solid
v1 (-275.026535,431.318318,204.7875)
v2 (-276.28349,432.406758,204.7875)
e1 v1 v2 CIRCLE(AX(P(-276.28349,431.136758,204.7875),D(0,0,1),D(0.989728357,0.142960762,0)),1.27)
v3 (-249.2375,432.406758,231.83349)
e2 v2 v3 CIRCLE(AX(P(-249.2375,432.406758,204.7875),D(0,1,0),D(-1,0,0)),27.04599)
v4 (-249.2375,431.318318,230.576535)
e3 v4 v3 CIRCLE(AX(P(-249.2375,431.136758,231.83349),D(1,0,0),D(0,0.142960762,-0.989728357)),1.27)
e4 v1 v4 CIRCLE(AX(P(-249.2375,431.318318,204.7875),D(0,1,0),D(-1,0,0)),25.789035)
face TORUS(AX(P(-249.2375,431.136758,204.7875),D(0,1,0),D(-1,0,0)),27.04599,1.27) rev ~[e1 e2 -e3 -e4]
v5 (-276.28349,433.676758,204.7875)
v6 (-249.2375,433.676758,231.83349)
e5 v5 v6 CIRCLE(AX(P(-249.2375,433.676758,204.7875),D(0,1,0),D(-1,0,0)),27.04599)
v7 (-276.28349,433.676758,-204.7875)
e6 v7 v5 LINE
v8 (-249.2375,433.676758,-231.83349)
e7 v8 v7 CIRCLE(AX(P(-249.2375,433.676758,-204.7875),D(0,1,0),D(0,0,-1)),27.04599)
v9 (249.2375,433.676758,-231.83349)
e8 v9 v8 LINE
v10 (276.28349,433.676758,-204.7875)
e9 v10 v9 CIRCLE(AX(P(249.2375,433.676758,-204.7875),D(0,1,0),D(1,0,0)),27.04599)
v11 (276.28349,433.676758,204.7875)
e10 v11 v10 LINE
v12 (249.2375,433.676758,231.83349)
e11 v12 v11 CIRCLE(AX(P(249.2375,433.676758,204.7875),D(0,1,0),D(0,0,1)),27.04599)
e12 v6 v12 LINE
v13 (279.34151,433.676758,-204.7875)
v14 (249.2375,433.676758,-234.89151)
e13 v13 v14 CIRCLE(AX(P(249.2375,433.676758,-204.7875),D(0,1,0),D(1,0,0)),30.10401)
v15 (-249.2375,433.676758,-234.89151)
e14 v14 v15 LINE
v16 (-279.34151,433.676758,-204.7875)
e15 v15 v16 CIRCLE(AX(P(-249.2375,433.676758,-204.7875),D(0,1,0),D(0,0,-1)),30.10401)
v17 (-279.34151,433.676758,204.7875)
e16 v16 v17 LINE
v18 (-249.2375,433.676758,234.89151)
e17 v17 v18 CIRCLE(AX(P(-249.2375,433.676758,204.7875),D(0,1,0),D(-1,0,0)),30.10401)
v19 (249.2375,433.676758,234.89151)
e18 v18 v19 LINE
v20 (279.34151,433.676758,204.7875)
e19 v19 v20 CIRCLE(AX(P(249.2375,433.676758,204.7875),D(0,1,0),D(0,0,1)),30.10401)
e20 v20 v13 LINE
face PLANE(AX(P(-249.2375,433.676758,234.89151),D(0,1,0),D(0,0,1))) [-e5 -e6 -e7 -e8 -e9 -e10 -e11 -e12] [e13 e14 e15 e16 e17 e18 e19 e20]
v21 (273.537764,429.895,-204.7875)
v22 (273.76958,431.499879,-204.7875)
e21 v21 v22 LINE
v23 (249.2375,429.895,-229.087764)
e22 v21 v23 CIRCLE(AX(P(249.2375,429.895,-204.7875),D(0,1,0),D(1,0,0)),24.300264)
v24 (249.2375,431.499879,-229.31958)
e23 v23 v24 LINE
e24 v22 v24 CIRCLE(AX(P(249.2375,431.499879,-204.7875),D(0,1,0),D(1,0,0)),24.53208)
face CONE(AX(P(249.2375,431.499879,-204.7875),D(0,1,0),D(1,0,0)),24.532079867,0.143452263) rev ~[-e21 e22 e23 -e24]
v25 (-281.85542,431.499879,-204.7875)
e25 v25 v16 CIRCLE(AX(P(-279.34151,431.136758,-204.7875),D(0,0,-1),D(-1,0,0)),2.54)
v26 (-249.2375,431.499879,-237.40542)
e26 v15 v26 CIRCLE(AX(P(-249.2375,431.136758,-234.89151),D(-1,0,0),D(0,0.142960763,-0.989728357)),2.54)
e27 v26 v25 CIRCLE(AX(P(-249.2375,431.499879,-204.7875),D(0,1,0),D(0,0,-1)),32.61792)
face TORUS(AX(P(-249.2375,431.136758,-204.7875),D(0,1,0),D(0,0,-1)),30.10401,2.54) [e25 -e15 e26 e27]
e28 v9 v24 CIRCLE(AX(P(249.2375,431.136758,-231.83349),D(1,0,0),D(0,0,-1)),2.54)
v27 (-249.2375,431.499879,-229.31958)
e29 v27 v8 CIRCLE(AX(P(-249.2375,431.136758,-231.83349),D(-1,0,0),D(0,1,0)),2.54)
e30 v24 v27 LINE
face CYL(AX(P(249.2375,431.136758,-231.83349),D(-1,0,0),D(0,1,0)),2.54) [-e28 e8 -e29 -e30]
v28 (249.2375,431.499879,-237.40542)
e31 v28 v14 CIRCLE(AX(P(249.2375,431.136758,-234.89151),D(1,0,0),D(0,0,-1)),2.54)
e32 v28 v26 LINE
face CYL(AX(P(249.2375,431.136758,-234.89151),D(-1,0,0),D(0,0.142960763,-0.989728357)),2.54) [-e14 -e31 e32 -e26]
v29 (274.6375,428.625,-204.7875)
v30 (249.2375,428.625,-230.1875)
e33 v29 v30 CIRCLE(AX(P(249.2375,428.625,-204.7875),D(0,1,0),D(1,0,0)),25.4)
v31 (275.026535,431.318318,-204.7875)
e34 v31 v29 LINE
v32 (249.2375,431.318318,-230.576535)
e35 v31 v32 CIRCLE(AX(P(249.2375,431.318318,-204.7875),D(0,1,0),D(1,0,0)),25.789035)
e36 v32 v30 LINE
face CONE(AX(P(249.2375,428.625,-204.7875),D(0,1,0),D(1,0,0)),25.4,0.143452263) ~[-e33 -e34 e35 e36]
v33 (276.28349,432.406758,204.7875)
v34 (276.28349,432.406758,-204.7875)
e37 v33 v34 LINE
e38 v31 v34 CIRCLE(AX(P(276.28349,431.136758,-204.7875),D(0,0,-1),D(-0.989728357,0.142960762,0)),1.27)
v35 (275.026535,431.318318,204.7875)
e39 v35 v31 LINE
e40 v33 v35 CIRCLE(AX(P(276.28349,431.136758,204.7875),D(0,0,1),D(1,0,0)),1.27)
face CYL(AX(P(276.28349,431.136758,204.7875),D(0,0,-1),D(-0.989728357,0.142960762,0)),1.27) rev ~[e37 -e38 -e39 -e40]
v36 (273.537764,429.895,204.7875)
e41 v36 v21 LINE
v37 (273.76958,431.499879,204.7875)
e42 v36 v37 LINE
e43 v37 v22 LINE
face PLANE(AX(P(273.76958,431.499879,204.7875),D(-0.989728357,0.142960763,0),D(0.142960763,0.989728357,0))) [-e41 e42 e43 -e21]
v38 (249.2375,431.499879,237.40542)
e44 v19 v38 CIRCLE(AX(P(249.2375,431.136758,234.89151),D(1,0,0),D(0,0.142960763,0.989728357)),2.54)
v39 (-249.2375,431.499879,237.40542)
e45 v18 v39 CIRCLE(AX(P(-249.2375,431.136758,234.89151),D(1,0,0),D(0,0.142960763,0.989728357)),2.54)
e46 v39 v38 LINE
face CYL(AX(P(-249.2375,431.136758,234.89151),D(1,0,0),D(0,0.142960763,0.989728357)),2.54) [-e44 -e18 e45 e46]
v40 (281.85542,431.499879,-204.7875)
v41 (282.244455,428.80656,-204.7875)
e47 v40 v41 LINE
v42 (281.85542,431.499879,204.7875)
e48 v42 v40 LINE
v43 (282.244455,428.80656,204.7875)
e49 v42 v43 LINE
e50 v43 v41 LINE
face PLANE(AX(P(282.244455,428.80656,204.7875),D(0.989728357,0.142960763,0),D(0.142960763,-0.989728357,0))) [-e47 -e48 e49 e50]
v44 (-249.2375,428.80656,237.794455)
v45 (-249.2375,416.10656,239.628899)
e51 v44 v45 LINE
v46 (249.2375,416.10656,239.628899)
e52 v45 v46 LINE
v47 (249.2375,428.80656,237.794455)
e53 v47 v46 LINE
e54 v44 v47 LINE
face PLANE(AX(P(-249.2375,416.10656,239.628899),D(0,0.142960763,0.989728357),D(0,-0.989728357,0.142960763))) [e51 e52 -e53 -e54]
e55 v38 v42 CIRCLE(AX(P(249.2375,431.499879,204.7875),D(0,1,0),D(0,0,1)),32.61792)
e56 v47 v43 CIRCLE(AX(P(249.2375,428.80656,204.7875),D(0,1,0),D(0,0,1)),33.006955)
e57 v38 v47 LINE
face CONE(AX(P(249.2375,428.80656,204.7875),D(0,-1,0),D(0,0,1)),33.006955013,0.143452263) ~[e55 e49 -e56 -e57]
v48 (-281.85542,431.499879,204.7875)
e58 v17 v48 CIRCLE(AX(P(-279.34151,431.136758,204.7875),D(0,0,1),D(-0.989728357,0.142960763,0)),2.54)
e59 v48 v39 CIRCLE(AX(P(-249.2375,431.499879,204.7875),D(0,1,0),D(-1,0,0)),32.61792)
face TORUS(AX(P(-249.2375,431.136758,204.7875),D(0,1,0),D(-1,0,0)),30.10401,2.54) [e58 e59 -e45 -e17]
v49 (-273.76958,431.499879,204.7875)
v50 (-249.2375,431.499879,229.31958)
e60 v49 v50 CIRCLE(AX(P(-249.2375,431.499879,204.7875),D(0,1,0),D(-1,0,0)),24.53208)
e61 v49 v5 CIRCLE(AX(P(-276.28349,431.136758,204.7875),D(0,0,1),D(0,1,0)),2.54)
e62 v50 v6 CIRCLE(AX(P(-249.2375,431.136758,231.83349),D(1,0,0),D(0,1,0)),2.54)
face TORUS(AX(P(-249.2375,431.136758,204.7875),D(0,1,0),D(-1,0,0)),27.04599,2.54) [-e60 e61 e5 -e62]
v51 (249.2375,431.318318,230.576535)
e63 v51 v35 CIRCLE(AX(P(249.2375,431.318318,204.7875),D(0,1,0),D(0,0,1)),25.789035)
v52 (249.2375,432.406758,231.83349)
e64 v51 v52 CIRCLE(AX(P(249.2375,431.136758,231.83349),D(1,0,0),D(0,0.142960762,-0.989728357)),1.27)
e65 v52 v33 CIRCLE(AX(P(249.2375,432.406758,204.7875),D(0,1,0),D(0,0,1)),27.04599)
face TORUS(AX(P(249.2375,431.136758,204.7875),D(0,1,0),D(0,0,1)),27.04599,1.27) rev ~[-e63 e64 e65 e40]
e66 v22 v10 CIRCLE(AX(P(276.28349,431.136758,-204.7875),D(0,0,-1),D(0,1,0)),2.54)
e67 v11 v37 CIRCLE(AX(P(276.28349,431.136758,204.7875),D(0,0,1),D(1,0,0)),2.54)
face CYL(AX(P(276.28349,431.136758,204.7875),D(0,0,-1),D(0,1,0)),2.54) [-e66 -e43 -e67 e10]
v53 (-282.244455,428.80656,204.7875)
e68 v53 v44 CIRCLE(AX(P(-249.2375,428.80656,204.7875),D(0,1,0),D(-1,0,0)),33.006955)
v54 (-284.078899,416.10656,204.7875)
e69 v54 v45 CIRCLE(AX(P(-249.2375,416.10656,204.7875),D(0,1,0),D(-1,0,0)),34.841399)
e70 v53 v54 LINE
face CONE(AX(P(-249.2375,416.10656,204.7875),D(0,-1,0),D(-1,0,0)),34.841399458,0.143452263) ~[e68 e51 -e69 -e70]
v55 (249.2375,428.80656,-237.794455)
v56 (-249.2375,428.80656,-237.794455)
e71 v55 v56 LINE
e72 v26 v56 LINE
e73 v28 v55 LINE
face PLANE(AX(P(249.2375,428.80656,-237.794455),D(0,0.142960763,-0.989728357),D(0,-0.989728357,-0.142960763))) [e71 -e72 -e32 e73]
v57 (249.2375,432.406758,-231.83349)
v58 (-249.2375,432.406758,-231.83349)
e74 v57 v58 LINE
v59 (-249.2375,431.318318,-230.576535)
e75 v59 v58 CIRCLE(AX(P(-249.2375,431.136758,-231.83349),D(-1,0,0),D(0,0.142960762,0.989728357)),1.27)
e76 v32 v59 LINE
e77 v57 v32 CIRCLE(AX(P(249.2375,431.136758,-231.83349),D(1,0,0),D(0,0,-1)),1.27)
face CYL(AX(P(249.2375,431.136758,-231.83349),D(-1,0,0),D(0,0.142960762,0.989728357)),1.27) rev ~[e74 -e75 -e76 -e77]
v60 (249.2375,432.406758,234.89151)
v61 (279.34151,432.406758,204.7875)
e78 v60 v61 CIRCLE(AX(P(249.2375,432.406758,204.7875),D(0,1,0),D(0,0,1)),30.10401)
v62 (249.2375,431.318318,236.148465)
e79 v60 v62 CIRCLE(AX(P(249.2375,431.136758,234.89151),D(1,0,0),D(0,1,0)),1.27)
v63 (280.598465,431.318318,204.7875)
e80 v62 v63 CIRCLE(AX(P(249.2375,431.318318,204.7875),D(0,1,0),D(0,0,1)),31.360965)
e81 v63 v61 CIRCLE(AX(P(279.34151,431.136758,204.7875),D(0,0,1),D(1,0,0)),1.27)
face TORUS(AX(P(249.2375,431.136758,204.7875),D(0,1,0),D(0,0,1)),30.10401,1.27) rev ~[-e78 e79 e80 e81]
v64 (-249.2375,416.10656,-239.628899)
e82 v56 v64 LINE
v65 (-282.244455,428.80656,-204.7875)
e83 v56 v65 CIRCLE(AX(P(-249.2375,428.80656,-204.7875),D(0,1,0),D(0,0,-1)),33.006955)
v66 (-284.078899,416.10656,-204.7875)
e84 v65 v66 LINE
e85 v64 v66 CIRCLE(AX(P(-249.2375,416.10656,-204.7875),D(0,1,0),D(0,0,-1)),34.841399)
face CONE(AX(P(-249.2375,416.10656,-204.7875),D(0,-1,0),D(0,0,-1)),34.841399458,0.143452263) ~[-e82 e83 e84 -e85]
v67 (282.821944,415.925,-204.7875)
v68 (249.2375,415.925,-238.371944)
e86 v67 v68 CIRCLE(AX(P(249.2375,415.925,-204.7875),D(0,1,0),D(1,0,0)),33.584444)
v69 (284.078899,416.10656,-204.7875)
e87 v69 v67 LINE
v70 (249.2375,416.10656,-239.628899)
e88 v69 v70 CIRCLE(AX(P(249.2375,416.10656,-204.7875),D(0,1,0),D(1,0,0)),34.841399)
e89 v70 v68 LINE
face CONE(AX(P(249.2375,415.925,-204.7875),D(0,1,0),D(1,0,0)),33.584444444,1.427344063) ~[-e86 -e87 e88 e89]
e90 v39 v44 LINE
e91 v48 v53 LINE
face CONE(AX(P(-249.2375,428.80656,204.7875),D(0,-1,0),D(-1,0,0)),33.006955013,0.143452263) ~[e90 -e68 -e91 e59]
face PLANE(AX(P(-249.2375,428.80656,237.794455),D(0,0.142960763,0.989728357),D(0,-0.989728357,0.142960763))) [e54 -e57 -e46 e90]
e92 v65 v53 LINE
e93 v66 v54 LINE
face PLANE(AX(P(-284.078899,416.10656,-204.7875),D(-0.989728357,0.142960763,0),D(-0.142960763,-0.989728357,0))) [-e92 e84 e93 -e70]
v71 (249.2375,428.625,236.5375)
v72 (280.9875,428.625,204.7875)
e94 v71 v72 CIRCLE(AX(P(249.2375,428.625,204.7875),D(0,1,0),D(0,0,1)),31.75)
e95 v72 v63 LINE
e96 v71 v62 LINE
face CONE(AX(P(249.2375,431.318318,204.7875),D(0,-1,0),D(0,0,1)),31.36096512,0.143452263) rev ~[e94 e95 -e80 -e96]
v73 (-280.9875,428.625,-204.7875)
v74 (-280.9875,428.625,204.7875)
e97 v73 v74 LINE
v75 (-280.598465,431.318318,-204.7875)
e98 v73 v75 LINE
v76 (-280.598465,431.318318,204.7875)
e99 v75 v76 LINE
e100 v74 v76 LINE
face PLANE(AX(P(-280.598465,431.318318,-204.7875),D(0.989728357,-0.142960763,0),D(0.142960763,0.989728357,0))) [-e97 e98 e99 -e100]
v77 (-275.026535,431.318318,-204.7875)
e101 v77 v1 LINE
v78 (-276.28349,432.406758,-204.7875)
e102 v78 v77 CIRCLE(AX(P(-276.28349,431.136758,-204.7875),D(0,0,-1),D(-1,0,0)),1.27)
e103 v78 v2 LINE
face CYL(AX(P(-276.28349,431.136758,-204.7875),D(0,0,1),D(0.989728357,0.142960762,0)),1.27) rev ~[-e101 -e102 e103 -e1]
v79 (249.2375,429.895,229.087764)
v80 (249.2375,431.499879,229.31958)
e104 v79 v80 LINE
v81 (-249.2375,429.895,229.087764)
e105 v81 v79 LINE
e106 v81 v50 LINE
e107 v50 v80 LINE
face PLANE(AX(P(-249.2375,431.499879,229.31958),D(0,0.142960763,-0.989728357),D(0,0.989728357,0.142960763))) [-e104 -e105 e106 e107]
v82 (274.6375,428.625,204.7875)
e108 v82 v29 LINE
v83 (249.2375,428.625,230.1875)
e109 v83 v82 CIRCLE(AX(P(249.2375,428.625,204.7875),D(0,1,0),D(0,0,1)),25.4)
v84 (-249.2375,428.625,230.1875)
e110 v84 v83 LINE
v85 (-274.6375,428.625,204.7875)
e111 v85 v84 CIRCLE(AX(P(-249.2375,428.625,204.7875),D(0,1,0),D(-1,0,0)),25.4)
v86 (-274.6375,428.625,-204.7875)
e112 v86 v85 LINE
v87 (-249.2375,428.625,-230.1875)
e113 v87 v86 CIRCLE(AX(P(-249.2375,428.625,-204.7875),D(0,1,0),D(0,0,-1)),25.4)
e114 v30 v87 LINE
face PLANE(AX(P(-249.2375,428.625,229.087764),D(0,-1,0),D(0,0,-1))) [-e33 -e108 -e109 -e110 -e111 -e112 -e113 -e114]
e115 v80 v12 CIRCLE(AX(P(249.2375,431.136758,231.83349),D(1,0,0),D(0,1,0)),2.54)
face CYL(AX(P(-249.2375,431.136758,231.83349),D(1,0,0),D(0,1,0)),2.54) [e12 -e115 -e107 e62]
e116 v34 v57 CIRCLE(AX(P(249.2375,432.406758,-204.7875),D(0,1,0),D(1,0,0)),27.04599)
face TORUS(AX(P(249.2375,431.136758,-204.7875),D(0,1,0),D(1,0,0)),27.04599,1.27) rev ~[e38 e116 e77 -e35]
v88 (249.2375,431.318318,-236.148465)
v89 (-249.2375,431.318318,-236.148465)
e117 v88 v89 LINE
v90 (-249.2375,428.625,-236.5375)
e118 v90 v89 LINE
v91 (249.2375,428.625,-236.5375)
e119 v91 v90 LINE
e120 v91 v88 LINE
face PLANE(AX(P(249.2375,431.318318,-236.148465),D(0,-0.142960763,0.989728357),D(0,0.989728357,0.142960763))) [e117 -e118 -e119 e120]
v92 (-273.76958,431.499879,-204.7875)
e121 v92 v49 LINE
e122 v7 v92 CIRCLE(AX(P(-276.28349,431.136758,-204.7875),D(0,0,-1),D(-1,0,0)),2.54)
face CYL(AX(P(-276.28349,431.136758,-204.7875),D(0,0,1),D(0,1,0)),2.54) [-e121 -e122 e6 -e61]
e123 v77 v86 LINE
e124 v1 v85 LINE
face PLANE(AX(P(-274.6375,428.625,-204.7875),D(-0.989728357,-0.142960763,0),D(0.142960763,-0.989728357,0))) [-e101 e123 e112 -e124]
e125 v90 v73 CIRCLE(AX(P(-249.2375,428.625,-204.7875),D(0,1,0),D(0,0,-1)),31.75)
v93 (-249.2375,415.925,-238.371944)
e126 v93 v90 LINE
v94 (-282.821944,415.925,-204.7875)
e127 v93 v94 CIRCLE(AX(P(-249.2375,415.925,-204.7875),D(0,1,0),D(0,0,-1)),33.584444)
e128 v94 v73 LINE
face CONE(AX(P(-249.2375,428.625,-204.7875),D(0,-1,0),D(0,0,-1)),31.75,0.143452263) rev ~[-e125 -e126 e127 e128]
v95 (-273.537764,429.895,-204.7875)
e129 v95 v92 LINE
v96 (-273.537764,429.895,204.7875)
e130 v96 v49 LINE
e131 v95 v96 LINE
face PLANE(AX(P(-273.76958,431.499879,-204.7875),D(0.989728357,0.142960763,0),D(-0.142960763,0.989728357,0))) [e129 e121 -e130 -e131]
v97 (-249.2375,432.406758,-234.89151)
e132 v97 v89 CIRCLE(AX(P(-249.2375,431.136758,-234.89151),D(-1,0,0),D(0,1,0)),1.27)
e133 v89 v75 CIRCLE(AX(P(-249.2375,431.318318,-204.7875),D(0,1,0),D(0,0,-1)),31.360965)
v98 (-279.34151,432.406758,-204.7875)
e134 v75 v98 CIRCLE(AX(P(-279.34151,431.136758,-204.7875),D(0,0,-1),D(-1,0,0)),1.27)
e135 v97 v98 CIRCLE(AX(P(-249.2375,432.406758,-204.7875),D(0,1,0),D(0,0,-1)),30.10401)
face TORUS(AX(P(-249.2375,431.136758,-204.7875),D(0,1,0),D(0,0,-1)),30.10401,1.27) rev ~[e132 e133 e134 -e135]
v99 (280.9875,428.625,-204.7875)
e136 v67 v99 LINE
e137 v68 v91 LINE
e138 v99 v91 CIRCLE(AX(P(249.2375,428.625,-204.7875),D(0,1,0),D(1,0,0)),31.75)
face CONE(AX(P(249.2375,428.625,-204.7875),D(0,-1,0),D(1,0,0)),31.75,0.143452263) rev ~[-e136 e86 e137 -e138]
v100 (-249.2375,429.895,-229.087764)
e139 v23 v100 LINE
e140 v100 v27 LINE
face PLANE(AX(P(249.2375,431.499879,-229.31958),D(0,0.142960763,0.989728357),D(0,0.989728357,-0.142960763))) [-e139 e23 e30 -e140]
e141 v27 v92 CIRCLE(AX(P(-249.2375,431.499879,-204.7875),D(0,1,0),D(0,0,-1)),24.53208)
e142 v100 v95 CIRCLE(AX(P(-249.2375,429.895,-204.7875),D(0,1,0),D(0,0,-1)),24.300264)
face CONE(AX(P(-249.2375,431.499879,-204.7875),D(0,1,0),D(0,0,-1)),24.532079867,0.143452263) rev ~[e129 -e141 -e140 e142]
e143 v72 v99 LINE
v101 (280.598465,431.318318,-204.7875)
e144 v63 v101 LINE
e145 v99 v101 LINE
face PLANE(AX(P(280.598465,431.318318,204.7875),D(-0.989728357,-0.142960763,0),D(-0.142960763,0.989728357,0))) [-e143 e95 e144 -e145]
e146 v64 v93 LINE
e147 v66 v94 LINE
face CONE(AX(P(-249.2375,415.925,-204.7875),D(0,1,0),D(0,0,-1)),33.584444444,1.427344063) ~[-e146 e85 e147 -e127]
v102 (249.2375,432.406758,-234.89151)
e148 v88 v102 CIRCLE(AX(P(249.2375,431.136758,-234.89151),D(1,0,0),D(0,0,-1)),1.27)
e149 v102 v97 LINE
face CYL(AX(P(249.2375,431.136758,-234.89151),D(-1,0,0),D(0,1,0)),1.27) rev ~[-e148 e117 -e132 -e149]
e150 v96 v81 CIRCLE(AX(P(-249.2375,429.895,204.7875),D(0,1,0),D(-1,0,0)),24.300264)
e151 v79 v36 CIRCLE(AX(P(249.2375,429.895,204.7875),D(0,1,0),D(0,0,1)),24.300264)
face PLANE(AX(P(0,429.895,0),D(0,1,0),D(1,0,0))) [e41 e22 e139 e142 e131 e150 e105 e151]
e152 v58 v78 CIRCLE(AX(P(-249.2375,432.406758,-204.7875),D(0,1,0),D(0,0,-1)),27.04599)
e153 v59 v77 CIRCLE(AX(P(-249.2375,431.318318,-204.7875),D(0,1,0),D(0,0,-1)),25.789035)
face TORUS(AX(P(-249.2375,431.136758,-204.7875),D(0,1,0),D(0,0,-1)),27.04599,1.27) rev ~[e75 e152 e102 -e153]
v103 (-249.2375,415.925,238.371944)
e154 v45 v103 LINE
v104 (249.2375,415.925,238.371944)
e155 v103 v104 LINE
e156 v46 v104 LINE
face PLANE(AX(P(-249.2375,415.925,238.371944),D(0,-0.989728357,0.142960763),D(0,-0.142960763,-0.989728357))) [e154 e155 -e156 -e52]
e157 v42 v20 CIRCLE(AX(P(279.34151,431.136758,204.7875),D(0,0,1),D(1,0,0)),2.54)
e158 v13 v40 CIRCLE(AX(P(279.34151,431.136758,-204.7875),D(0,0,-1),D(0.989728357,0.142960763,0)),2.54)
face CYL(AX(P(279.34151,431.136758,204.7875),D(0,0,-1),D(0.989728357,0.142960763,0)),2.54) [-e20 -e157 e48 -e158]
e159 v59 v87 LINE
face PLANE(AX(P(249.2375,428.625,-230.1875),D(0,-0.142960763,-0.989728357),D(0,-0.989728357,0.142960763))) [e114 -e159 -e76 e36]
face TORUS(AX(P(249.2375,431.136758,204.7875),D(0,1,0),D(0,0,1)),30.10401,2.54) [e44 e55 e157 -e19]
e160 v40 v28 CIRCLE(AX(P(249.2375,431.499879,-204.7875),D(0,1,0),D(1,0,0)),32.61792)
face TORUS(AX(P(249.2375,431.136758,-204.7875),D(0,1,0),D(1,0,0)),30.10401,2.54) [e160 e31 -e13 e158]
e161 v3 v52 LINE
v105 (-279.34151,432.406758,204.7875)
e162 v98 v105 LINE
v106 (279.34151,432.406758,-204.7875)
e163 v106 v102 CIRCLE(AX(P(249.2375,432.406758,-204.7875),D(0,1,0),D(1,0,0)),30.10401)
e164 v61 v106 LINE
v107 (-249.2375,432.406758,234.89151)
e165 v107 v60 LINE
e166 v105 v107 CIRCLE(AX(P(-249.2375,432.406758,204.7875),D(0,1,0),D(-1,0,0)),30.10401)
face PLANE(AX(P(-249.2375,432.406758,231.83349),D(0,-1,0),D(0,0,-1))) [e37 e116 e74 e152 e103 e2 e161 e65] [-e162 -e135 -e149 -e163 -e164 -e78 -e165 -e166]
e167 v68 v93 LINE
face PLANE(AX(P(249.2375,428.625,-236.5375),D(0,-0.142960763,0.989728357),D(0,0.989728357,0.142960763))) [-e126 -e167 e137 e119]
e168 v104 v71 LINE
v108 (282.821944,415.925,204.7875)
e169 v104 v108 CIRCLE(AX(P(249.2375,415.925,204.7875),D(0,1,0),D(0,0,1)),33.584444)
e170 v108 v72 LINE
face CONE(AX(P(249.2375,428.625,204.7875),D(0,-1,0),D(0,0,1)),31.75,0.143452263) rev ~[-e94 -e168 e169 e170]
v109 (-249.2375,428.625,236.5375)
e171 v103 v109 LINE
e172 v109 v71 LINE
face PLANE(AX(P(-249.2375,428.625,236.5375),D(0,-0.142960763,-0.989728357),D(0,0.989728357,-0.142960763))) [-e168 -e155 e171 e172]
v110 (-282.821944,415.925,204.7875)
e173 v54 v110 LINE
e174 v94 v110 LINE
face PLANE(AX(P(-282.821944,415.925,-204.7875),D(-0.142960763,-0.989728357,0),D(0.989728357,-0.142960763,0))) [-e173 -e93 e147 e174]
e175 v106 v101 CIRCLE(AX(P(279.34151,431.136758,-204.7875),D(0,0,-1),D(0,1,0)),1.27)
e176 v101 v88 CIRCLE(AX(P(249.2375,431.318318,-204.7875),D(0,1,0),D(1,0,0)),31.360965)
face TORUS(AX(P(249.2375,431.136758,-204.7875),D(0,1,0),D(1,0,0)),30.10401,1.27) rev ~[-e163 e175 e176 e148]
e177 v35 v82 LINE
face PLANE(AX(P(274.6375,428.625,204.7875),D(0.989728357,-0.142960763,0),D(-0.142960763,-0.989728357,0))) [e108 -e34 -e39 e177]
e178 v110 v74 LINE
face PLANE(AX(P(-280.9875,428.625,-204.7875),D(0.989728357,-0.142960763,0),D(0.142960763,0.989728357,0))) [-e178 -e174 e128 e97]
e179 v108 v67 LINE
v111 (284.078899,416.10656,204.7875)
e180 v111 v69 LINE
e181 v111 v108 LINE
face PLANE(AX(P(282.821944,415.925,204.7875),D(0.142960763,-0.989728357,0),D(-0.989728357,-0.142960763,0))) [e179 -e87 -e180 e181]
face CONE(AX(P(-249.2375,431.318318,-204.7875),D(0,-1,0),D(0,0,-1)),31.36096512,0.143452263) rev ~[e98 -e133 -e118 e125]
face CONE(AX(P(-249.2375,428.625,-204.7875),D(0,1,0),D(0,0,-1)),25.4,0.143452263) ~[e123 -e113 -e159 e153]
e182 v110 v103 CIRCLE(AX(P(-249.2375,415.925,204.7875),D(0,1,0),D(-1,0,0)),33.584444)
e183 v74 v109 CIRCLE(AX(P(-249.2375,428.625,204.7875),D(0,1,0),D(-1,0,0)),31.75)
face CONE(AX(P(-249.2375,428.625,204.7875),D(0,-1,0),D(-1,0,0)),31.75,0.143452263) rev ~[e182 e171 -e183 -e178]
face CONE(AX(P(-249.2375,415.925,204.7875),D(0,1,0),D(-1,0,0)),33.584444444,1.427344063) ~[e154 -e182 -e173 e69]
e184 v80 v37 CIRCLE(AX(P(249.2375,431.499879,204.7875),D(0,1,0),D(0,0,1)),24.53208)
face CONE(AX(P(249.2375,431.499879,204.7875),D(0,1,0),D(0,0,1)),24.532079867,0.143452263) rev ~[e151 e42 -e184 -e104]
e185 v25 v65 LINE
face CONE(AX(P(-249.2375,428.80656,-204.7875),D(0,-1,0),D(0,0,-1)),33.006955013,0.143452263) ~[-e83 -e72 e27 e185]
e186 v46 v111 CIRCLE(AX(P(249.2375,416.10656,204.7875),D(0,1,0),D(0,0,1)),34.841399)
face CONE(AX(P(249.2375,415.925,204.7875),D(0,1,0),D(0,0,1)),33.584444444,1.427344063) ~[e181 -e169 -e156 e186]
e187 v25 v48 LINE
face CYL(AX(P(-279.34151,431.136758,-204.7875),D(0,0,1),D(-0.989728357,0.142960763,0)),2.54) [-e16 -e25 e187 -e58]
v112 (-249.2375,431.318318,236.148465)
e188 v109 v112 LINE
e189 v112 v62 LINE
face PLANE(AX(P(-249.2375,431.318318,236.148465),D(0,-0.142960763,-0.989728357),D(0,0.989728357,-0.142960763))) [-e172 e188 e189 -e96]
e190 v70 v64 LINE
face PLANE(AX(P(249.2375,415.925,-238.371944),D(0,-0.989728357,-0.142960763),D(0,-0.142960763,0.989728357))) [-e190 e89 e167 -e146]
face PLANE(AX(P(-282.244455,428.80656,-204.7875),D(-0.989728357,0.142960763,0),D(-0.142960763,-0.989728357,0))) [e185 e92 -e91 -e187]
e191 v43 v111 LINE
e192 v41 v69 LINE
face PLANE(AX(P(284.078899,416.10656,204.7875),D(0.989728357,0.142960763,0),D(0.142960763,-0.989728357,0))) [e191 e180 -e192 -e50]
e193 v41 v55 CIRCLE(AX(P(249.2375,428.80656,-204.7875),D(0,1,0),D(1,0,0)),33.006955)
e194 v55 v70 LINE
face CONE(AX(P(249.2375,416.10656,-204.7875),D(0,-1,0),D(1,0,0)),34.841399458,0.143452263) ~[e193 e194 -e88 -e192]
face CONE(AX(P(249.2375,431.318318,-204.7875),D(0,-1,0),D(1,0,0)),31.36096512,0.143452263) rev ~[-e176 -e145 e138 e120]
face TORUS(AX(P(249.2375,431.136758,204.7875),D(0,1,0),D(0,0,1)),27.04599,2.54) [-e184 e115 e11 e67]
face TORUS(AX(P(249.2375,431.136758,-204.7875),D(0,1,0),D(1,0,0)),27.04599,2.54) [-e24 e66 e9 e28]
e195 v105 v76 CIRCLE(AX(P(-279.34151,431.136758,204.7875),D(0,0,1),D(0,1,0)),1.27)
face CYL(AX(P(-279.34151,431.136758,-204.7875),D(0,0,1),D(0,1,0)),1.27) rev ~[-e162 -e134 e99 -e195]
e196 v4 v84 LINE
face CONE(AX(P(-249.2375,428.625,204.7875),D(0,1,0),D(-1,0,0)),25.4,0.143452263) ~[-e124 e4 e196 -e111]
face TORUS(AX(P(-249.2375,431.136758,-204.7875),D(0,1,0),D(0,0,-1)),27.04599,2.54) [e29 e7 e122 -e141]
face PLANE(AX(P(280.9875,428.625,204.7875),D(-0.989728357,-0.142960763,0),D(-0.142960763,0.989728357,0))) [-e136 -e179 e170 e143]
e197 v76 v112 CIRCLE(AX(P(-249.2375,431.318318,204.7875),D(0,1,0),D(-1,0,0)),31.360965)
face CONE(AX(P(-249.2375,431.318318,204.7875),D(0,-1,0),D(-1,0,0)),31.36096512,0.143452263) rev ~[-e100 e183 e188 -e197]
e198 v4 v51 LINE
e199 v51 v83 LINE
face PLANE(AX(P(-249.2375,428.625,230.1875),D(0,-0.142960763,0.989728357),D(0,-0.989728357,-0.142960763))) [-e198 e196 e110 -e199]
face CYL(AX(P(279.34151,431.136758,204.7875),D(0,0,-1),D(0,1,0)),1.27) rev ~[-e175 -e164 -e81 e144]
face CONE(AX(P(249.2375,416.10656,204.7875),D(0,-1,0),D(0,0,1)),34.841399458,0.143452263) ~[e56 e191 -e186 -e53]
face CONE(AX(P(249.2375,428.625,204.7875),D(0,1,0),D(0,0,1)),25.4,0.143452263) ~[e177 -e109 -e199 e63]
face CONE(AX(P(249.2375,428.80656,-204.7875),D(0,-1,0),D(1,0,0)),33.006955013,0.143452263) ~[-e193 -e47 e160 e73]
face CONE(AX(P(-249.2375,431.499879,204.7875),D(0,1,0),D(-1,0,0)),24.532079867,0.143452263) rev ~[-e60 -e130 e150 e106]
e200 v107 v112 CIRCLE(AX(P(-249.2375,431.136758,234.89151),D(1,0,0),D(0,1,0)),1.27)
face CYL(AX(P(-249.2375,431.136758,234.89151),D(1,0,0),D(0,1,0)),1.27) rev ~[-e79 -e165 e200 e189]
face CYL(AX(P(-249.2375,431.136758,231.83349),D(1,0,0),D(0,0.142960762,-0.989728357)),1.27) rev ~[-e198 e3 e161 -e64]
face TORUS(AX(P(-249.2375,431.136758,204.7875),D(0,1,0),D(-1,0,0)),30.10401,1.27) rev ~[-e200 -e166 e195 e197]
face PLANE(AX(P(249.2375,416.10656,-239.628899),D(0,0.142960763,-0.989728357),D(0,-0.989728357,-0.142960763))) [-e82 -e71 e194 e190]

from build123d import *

# Parameters (mm, degrees)
BOSS_EXTRUDE1_START = 1.27
BOSS_EXTRUDE1_DEPTH = 1.27


with BuildPart() as part:
    # Sweep1: sweep along a path in Sketch2
    with BuildLine(Plane(origin=(0, 428.625, 0), x_dir=(1, 0, 0), z_dir=(0, 1, 0))) as sweep1_path:
        Line((-249.2375, -230.1875), (249.2375, -230.1875))
        ThreePointArc((249.2375, -230.1875), (267.198012242, -222.748012242), (274.6375, -204.7875))
        Line((274.6375, -204.7875), (274.6375, 204.7875))
        ThreePointArc((274.6375, 204.7875), (267.198012242, 222.748012242), (249.2375, 230.1875))
        Line((249.2375, 230.1875), (-249.2375, 230.1875))
        ThreePointArc((-249.2375, 230.1875), (-267.198012242, 222.748012242), (-274.6375, 204.7875))
        Line((-274.6375, 204.7875), (-274.6375, -204.7875))
        ThreePointArc((-274.6375, -204.7875), (-267.198012242, -222.748012242), (-249.2375, -230.1875))
    # Sketch3 → Sweep1 (sweep)
    with BuildSketch(Plane.XY):
        with BuildLine():
            Line((-274.6375, 428.625), (-275.02653488, 431.318318399))
            ThreePointArc((-275.02653488, 431.318318399), (-275.452129987, 432.096831513), (-276.283489893, 432.406758231))
            Line((-276.283489893, 432.406758231), (-279.341510107, 432.406758231))
            ThreePointArc((-279.341510107, 432.406758231), (-280.172870013, 432.096831513), (-280.59846512, 431.318318399))
            Line((-280.59846512, 431.318318399), (-280.9875, 428.625))
            Line((-280.9875, 428.625), (-282.821944444, 415.925))
            Line((-282.821944444, 415.925), (-284.078899458, 416.106560169))
            Line((-284.078899458, 416.106560169), (-282.244455013, 428.806560169))
            Line((-282.244455013, 428.806560169), (-281.855420133, 431.499878568))
            ThreePointArc((-281.855420133, 431.499878568), (-281.004229918, 433.056904795), (-279.341510107, 433.676758231))
            Line((-279.341510107, 433.676758231), (-276.283489893, 433.676758231))
            ThreePointArc((-276.283489893, 433.676758231), (-274.620770082, 433.056904795), (-273.769579867, 431.499878568))
            Line((-273.769579867, 431.499878568), (-273.537764074, 429.895))
            Line((-273.537764074, 429.895), (-273.537764074, 428.625))
            Line((-273.537764074, 428.625), (-274.6375, 428.625))
        make_face()
    sweep(path=sweep1_path.line)

    # Sketch6 → Boss-Extrude1 (add)
    with BuildSketch(Plane(origin=(0, 428.625, 0), x_dir=(1, 0, 0), z_dir=(0, 1, 0)).offset(BOSS_EXTRUDE1_START)):
        with BuildLine():
            Line((249.2375, 229.087764074), (-249.2375, 229.087764074))
            ThreePointArc((-249.2375, 229.087764074), (-266.420381511, 221.970381511), (-273.537764074, 204.7875))
            Line((-273.537764074, 204.7875), (-273.537764074, 0))
            Line((-273.537764074, 0), (-273.537764074, -204.7875))
            ThreePointArc((-273.537764074, -204.7875), (-266.420381511, -221.970381511), (-249.2375, -229.087764074))
            Line((-249.2375, -229.087764074), (249.2375, -229.087764074))
            ThreePointArc((249.2375, -229.087764074), (266.420381511, -221.970381511), (273.537764074, -204.7875))
            Line((273.537764074, -204.7875), (273.537764074, 204.7875))
            ThreePointArc((273.537764074, 204.7875), (266.420381511, 221.970381511), (249.2375, 229.087764074))
        make_face()
    extrude(amount=-BOSS_EXTRUDE1_DEPTH)


solid = part.part
